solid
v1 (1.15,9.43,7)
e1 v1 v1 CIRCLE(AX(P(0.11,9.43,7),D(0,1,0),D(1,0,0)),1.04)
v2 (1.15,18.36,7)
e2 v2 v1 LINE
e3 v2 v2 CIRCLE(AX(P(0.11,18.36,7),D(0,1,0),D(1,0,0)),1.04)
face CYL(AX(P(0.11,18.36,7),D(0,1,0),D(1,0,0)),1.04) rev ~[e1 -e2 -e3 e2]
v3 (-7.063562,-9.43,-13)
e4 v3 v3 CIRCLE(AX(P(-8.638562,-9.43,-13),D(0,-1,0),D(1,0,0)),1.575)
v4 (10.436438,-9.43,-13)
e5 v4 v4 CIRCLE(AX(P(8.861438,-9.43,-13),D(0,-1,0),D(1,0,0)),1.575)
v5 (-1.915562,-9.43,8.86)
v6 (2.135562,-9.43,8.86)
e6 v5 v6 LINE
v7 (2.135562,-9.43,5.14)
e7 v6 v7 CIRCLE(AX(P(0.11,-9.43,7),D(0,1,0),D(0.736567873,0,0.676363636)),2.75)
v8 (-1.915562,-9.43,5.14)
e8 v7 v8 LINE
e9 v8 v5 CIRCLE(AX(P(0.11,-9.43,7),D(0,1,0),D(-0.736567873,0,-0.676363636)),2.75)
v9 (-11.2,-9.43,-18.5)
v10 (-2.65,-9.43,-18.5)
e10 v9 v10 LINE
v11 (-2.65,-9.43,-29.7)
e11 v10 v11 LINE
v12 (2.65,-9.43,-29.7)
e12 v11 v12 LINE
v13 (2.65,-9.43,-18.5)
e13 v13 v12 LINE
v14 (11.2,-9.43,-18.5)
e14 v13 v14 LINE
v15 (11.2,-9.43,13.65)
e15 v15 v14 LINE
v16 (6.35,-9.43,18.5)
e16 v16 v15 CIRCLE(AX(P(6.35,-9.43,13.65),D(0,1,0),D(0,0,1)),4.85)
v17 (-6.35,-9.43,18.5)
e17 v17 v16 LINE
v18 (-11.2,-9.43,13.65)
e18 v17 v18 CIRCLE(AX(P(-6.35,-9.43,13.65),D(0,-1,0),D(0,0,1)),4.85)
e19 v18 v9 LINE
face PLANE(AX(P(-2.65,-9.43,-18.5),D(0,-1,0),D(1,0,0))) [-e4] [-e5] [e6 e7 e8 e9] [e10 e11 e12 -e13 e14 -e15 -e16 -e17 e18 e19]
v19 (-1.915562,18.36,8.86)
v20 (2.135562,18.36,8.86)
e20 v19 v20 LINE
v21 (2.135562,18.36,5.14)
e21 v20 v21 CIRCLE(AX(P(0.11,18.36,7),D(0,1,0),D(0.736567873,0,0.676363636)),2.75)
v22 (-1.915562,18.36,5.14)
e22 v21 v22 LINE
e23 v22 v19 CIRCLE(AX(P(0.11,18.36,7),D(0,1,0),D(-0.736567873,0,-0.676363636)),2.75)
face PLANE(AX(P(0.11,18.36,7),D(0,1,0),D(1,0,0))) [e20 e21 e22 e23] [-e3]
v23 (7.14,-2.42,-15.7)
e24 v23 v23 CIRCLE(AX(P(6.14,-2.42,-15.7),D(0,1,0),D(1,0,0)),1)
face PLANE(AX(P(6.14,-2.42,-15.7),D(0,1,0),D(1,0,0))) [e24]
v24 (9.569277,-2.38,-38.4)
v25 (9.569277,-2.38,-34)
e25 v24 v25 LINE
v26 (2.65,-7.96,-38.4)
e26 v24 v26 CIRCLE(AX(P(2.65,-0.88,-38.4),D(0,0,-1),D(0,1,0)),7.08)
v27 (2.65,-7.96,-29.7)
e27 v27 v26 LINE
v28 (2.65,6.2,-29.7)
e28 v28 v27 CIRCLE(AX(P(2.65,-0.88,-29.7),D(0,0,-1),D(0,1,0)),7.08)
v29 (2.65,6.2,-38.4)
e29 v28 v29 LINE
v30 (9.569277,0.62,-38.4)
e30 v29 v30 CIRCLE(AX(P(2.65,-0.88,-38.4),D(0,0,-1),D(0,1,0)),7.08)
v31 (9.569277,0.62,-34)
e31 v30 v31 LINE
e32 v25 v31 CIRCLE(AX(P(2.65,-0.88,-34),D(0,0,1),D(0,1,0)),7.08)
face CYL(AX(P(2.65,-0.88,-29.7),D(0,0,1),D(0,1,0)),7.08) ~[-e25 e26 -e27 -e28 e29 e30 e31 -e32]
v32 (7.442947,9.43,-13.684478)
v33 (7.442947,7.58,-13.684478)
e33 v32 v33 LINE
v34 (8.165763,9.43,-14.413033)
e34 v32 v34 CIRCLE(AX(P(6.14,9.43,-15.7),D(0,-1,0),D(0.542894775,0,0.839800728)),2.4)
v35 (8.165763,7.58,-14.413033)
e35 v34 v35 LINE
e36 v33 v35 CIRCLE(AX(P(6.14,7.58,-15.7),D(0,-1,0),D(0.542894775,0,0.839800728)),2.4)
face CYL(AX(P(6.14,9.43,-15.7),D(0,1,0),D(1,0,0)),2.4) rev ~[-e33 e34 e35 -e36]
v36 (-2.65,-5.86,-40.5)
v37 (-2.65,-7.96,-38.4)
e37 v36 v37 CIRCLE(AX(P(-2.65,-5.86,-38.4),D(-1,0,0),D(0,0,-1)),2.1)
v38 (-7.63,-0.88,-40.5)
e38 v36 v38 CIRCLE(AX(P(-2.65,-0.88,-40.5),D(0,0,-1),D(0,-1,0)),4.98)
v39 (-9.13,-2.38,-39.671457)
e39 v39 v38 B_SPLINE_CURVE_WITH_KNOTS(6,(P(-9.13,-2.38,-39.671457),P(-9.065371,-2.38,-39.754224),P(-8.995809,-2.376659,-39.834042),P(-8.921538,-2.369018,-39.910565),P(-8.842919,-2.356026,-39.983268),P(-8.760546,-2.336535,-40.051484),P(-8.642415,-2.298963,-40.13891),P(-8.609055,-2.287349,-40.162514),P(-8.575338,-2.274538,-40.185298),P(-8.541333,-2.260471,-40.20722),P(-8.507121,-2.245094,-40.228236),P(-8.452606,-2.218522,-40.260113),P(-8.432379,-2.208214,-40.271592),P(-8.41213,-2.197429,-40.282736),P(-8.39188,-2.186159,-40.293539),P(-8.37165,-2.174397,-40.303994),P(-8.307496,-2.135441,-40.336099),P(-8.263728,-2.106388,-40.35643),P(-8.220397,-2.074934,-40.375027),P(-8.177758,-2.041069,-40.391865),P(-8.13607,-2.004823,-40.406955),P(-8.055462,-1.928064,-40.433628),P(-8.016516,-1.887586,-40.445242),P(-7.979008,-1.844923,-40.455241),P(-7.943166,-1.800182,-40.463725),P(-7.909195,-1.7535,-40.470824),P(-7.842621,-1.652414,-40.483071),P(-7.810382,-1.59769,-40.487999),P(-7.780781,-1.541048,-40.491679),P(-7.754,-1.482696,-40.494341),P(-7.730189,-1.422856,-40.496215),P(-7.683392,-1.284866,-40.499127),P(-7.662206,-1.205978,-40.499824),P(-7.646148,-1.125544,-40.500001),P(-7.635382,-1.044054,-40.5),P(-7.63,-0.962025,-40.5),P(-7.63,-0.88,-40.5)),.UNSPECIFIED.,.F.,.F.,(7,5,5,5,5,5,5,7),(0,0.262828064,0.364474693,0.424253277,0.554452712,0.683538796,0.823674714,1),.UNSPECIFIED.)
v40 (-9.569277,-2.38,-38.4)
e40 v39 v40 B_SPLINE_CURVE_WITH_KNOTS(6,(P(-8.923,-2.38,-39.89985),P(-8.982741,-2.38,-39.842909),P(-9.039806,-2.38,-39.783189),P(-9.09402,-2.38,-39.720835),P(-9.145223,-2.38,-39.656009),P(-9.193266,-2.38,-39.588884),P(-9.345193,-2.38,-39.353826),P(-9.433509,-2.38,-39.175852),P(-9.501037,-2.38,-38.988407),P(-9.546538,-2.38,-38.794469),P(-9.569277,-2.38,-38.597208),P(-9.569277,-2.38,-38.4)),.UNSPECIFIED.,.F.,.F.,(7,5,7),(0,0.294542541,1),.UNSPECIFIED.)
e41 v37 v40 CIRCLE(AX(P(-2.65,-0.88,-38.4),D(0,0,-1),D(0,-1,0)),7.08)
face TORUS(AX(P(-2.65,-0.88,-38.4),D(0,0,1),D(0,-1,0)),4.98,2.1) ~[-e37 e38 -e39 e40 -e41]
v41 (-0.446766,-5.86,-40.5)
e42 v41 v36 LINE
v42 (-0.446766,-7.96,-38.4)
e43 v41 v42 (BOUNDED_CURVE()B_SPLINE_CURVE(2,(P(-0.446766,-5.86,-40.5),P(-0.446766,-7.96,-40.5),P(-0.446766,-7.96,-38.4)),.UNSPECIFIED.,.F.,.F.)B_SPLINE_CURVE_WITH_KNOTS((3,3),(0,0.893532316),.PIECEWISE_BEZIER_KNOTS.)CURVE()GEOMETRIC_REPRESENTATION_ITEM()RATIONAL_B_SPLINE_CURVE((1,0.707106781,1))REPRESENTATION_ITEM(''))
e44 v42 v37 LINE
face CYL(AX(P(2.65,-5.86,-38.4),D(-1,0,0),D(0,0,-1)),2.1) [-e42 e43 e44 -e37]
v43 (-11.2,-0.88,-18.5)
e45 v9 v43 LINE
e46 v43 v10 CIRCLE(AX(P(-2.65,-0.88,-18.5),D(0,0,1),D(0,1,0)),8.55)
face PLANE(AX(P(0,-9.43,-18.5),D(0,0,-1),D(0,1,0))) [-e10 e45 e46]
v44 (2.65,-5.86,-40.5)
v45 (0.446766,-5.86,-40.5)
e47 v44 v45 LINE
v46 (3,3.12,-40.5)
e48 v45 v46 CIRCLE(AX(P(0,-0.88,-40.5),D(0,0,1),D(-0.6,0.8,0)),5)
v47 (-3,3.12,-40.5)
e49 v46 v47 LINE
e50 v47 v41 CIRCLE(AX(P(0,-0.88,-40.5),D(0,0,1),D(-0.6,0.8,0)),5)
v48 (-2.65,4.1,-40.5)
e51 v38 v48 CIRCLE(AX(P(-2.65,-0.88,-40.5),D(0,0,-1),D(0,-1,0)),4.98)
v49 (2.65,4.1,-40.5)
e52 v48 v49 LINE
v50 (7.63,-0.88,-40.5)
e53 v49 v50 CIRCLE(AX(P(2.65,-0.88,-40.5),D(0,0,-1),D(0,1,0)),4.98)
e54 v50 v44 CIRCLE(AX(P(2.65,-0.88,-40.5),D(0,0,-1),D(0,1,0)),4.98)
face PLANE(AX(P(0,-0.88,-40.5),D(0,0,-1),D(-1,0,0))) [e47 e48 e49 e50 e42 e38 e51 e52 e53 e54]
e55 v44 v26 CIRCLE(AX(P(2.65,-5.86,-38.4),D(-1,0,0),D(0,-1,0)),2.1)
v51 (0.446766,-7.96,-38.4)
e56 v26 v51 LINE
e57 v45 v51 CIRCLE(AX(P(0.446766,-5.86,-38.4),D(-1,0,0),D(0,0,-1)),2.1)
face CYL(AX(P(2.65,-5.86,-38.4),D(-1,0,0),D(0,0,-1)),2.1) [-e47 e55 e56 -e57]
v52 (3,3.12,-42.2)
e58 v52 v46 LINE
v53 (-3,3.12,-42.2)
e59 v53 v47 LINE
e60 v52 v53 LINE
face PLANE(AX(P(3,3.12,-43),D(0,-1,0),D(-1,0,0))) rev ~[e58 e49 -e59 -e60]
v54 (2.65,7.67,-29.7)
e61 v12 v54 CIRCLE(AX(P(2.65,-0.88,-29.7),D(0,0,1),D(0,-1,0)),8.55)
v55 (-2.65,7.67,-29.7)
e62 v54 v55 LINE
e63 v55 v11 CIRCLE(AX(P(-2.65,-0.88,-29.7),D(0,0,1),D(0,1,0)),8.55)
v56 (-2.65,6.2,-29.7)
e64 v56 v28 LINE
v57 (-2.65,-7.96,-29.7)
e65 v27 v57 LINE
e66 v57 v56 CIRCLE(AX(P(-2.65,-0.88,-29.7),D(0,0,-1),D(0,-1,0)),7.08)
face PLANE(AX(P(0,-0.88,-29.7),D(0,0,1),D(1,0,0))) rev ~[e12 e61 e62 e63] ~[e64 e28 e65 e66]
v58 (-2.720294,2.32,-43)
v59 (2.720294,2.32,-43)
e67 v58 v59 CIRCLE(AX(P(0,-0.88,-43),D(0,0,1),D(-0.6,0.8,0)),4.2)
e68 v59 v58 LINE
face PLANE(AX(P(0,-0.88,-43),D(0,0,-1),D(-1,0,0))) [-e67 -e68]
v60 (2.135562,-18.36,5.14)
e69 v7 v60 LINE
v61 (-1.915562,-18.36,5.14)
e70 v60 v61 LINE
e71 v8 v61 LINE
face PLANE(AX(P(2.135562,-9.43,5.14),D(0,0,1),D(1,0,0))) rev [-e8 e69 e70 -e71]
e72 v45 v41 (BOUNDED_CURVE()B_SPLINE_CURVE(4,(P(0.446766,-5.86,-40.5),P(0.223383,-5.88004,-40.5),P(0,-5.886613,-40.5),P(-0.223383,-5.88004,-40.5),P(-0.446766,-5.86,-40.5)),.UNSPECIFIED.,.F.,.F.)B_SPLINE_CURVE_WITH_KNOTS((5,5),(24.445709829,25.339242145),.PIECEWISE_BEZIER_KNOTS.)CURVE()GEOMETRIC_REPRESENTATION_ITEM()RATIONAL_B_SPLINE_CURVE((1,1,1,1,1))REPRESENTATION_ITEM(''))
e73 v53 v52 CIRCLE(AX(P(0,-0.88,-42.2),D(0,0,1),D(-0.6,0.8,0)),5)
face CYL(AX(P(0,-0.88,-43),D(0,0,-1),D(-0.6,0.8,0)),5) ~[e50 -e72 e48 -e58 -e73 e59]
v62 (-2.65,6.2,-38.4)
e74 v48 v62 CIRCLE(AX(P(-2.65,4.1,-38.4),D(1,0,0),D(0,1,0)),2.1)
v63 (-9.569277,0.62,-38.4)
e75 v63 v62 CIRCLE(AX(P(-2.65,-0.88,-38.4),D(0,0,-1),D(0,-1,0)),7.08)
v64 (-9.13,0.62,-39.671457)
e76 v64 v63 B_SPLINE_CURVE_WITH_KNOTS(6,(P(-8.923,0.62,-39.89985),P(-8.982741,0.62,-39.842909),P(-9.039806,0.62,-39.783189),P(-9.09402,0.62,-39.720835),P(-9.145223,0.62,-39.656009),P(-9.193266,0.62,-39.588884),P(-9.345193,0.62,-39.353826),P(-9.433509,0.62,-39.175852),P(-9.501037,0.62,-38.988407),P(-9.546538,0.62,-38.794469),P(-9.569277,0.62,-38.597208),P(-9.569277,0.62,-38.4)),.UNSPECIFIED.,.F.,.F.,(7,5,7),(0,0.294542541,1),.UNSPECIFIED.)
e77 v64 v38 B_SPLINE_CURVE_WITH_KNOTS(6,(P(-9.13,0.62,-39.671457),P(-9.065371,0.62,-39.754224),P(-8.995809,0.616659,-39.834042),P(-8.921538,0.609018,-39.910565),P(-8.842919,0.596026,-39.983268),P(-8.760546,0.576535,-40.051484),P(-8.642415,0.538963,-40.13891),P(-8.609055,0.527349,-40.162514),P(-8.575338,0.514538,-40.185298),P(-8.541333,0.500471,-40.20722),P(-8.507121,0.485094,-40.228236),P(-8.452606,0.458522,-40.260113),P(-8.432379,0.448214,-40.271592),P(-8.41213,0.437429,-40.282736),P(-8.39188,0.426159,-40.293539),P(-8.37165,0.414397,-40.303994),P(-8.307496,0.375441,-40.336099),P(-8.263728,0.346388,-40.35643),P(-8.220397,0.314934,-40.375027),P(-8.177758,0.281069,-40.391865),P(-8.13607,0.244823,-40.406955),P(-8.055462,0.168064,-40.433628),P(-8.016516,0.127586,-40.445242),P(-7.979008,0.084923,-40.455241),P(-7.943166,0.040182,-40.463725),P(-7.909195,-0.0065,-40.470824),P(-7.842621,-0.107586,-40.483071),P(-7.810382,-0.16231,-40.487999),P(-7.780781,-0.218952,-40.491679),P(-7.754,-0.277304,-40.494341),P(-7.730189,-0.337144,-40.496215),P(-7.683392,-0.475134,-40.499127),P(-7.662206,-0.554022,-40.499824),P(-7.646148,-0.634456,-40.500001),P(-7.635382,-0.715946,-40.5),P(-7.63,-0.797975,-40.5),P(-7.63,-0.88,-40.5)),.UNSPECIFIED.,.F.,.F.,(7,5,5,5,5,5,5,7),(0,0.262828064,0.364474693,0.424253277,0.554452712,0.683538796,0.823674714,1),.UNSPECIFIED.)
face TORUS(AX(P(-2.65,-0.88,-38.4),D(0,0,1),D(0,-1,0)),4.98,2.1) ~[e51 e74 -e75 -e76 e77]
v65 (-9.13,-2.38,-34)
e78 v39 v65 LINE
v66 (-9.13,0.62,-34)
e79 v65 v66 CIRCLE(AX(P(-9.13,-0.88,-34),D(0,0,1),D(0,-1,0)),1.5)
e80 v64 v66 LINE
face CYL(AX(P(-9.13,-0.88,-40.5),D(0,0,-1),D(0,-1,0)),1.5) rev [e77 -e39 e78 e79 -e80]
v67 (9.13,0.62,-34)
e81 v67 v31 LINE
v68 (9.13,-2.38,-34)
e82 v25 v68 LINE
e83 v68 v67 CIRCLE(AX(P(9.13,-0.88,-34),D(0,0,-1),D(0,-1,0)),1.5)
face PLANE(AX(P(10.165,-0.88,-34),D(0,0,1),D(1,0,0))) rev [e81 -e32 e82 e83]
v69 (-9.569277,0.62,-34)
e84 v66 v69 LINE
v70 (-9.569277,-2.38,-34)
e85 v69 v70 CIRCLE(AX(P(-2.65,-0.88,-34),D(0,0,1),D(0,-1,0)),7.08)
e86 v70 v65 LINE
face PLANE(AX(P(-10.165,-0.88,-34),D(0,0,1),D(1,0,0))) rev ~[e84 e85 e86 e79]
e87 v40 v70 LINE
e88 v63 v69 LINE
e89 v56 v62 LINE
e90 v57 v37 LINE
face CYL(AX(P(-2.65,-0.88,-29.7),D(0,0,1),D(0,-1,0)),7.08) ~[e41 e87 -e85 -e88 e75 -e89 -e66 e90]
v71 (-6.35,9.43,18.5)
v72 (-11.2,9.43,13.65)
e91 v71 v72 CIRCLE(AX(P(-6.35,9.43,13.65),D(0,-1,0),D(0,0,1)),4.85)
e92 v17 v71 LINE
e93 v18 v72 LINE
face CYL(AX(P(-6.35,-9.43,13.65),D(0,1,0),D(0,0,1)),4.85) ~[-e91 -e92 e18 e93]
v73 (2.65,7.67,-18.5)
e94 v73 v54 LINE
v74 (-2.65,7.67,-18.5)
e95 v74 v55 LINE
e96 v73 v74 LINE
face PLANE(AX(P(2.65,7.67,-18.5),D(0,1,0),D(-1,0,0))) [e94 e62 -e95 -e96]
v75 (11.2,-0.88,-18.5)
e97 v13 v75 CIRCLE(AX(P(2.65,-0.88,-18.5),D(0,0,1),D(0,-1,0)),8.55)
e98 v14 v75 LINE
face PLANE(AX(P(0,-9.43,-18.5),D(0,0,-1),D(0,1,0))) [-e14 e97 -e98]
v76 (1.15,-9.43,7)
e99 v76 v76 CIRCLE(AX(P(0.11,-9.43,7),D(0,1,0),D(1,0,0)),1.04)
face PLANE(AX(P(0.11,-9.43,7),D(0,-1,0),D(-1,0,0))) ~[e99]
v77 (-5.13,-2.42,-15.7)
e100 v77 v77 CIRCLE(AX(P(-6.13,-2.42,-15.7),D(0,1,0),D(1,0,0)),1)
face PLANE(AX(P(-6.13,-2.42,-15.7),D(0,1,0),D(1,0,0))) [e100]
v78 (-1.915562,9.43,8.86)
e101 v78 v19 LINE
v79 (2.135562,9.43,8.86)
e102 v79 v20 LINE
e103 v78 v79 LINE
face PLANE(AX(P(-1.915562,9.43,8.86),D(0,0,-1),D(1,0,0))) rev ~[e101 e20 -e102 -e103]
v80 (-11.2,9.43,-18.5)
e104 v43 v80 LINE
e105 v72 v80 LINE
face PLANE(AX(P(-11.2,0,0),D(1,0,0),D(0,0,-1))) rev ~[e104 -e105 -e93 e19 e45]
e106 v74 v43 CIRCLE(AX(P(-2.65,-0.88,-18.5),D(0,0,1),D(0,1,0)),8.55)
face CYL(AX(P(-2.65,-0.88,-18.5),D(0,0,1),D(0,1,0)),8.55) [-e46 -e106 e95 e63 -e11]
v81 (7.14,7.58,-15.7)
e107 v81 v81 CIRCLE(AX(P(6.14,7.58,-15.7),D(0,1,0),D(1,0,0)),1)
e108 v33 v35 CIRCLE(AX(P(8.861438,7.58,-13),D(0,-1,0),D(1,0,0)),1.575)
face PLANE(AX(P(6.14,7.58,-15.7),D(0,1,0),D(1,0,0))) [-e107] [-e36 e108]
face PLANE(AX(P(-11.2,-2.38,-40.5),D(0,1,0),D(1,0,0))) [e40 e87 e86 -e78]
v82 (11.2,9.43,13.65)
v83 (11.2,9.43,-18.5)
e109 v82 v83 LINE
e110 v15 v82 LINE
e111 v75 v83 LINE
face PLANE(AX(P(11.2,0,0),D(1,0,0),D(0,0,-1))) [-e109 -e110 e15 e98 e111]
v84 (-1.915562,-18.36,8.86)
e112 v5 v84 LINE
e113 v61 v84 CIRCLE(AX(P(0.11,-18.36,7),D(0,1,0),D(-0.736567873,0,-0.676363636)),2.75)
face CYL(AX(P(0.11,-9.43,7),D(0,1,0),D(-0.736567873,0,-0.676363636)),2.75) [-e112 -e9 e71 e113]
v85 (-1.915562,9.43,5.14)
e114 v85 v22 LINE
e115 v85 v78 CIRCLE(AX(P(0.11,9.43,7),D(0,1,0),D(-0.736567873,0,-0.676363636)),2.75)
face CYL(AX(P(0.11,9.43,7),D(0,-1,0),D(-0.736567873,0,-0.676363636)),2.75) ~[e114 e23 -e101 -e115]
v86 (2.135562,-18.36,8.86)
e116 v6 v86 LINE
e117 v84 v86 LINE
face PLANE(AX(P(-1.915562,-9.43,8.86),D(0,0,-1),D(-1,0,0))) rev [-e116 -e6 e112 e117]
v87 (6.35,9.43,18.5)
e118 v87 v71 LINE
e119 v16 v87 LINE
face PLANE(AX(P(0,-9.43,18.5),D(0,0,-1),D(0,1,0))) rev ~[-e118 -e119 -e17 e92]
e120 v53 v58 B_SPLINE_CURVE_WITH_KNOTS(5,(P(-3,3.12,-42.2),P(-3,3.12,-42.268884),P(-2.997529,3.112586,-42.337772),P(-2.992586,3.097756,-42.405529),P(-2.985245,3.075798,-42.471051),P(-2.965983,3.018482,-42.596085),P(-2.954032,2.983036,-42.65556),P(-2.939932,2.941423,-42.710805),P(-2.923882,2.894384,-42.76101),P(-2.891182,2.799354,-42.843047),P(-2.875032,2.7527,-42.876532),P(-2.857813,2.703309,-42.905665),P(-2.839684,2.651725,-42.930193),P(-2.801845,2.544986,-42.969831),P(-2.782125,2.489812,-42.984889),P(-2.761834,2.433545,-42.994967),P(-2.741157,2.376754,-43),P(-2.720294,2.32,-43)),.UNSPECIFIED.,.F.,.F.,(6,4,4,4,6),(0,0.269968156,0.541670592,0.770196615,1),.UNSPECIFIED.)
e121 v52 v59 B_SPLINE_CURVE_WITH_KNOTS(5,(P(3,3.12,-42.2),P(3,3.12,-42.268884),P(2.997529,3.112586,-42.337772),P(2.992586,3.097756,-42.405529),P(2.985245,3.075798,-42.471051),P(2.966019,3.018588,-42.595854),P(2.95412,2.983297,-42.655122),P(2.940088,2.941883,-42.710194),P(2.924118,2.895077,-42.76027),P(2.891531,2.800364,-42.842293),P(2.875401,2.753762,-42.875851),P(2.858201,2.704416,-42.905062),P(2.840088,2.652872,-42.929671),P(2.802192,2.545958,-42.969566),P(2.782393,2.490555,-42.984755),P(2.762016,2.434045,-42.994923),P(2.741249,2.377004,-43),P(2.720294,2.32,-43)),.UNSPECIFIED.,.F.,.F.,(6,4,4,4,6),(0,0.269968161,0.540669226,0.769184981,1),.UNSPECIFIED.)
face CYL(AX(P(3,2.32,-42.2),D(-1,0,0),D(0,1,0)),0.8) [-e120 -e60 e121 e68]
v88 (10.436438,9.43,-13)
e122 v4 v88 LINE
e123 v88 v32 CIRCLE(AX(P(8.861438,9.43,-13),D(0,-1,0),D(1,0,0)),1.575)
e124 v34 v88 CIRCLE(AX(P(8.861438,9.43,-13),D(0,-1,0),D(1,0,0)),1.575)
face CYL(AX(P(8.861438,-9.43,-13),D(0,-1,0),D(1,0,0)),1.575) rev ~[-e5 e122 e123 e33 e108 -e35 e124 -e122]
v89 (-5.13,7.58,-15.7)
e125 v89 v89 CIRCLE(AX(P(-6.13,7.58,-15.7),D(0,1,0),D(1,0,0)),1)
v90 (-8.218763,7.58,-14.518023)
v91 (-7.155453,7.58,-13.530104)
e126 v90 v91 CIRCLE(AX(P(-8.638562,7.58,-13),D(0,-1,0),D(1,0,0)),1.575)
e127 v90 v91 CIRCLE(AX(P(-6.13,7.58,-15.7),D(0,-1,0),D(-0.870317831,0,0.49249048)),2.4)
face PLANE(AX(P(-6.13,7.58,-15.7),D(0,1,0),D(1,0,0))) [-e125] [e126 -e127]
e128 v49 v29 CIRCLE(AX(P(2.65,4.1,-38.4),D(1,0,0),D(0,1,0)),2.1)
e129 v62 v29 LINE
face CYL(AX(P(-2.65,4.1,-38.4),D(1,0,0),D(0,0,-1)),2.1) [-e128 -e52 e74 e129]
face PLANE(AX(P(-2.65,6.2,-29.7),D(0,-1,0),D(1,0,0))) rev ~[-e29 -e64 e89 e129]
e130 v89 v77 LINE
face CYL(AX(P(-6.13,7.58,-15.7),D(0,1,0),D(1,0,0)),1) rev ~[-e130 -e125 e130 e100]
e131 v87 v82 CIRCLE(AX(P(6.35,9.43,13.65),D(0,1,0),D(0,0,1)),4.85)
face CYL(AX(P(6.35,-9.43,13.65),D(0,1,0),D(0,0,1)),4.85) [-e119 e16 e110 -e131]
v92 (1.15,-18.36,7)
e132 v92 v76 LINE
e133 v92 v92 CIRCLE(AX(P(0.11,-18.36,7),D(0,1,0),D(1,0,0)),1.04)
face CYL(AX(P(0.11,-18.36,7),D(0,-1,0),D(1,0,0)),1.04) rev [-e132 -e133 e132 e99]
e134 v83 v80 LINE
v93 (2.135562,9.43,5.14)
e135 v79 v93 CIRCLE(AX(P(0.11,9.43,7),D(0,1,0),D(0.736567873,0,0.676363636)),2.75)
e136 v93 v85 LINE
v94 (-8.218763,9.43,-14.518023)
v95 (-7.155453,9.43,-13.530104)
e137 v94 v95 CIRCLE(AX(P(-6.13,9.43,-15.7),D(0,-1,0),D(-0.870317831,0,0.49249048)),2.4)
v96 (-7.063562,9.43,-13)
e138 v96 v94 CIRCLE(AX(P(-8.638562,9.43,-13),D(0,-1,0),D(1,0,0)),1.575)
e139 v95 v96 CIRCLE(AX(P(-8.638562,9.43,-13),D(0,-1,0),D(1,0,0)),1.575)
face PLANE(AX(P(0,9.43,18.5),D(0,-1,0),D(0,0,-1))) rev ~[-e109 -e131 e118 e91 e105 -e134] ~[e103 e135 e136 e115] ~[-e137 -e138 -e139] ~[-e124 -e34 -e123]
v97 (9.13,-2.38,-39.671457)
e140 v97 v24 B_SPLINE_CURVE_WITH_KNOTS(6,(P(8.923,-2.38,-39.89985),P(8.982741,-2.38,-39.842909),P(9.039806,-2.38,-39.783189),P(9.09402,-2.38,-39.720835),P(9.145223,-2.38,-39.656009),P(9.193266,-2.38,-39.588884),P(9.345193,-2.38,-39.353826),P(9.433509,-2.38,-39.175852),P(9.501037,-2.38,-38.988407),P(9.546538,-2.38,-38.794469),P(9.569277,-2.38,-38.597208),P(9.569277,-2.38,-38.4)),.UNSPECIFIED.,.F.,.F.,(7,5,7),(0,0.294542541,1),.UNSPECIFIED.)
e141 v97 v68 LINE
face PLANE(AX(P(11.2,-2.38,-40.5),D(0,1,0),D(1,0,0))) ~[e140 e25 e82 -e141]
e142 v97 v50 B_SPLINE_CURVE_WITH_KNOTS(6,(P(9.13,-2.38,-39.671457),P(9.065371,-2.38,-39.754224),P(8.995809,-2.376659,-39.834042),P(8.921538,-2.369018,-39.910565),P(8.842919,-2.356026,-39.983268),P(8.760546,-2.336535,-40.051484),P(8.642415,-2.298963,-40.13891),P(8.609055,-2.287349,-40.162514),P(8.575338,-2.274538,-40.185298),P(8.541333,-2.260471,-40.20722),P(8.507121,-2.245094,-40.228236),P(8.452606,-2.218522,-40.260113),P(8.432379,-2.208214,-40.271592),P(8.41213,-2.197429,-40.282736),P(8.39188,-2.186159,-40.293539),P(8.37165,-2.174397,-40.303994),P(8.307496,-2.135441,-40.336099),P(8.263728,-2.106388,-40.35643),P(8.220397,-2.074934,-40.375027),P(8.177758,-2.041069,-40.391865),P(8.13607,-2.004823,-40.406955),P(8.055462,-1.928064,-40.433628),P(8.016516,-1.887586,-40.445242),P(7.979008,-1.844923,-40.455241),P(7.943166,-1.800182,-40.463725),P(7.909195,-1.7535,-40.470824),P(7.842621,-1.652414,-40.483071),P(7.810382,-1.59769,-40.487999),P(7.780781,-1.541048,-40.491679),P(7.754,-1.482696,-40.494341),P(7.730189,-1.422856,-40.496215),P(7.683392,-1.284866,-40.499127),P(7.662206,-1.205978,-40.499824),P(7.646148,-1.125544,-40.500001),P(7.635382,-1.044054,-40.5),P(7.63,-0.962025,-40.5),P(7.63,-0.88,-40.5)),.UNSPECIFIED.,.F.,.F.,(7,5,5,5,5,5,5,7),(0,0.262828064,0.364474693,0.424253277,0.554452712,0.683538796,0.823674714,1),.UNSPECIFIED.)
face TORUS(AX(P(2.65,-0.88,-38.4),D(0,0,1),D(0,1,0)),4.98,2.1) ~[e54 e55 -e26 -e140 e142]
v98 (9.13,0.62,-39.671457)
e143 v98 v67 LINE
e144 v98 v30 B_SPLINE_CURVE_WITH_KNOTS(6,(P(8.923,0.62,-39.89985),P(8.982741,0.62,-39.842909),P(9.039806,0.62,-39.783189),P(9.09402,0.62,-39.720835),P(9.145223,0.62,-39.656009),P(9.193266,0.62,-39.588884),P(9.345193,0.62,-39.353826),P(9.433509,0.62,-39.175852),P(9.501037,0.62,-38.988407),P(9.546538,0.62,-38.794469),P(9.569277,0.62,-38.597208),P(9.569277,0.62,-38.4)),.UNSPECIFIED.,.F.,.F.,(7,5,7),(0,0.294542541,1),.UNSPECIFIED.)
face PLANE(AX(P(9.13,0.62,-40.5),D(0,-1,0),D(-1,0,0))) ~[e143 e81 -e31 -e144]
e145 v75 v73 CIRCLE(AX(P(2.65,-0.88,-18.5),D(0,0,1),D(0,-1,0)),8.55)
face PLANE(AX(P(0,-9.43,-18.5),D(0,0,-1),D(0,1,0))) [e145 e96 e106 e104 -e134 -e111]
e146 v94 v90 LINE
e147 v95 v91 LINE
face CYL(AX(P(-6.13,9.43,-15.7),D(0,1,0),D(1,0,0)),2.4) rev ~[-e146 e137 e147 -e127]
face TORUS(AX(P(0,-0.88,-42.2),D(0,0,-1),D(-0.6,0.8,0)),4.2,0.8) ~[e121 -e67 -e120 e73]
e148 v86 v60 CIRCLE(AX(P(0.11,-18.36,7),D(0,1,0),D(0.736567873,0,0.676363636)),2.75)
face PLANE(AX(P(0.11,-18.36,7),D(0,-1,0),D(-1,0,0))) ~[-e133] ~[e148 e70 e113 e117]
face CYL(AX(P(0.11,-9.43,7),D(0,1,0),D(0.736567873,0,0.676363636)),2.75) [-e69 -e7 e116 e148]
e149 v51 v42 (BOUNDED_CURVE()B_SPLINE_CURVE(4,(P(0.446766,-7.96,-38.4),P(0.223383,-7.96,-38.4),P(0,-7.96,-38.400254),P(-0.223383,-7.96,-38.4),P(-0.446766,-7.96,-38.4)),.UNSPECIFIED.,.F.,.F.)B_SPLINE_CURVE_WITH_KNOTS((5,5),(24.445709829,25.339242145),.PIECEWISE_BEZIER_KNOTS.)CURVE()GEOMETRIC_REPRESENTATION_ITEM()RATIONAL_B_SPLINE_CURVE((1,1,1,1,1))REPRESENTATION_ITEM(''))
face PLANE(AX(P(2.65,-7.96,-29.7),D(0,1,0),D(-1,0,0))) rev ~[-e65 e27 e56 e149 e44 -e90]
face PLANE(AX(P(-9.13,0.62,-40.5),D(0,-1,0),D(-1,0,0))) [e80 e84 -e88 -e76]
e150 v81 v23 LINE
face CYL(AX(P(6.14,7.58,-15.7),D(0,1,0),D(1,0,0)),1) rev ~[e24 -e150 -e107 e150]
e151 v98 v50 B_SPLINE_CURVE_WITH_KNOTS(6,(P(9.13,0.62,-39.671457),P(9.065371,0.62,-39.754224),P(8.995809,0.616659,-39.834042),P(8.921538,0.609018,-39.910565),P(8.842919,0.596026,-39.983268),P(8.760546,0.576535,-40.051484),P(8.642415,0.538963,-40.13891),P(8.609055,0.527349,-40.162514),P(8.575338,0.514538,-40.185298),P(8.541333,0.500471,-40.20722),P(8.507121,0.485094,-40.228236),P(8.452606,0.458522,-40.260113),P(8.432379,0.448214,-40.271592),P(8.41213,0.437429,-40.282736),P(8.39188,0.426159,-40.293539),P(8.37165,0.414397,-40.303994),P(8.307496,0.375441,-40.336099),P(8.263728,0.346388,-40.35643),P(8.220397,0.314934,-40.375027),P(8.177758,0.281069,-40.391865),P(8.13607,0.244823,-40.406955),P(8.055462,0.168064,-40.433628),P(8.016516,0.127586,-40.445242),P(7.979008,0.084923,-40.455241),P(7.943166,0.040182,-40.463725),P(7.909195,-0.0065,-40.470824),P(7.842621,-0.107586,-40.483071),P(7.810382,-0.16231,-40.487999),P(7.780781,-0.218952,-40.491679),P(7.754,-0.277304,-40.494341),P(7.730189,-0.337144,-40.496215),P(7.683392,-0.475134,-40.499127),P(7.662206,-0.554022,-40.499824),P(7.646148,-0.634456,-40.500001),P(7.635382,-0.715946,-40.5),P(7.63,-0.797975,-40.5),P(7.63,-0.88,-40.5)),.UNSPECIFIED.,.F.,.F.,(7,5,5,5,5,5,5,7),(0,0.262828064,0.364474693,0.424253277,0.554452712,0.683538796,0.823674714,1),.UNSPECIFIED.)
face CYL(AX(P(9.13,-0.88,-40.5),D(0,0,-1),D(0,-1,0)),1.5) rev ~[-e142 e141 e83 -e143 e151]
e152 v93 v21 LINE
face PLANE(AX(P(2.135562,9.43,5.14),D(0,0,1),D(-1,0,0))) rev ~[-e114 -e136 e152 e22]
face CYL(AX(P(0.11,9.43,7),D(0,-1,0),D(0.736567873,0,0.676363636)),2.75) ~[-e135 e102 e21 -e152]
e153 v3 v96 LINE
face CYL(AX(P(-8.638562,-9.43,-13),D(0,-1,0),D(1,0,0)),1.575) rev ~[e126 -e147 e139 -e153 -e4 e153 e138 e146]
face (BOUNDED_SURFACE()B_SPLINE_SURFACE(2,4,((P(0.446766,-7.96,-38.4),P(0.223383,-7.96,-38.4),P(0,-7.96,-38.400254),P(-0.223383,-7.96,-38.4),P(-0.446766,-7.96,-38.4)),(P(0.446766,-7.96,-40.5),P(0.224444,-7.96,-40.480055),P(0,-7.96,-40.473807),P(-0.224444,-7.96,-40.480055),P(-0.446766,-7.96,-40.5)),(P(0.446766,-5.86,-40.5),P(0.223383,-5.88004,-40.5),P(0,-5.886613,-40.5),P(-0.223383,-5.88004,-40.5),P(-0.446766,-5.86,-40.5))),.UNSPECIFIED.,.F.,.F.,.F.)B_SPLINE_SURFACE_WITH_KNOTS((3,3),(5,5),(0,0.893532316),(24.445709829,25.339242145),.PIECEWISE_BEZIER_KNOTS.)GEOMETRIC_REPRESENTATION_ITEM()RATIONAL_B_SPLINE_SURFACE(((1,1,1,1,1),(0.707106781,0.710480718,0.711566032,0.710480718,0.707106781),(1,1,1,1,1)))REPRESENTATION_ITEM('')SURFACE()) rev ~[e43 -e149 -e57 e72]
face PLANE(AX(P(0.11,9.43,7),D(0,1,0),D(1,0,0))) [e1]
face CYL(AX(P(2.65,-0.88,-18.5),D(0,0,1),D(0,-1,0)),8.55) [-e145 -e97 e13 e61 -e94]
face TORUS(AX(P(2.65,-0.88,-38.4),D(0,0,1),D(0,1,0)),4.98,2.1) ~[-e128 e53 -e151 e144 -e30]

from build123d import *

# Parameters (mm, degrees)
SKETCH2_W           = 37
SKETCH2_H           = 18.86
BOSS_EXTRUDE1_DEPTH = 11.2
FILLET1_R           = 4.85
BOSS_EXTRUDE2_DEPTH = 11.2
BOSS_EXTRUDE3_DEPTH = 13.3
CUT_EXTRUDE1_DEPTH  = 2.5
FILLET2_R           = 0.8
FILLET3_R           = 2.1
CUT_EXTRUDE2_DEPTH  = 6.5
BOSS_EXTRUDE5_DEPTH = 8.93
SKETCH11_R          = 1.04
CUT_EXTRUDE4_DEPTH  = 8.93
CUT_EXTRUDE5_REACH  = 29.79
SKETCH12_R          = 1.575
SKETCH13_R          = 2.4
CUT_EXTRUDE6_DEPTH  = 1.85
SKETCH14_R          = 1
CUT_EXTRUDE7_DEPTH  = 10


with BuildPart() as part:
    # Sketch2 → Boss-Extrude1 (new body, symmetric)
    with BuildSketch(Plane(origin=(0, 0, 0), x_dir=(0, 0, -1), z_dir=(1, 0, 0))):
        Rectangle(SKETCH2_W, SKETCH2_H)
    extrude(amount=BOSS_EXTRUDE1_DEPTH, both=True)

    # Fillet1
    fillet1_edges = [part.edges().sort_by_distance(p)[0] for p in [
        (11.2, 0, 18.5),
        (-11.2, 0, 18.5),
    ]]
    fillet(fillet1_edges, radius=FILLET1_R)

    # Sketch3 → Boss-Extrude2 (add)
    with BuildSketch(Plane(origin=(0, 0, -18.5), x_dir=(-1, 0, 0), z_dir=(0, 0, -1))):
        with BuildLine():
            Line((-2.65, 7.67), (2.65, 7.67))
            ThreePointArc((2.65, 7.67), (11.2, -0.88), (2.65, -9.43))
            Line((2.65, -9.43), (-2.65, -9.43))
            ThreePointArc((-2.65, -9.43), (-11.2, -0.88), (-2.65, 7.67))
        make_face()
    extrude(amount=BOSS_EXTRUDE2_DEPTH)

    # Sketch4 → Boss-Extrude3 (add)
    with BuildSketch(Plane(origin=(0, 0, -29.7), x_dir=(-1, 0, 0), z_dir=(0, 0, -1))):
        with BuildLine():
            Line((-2.65, -7.96), (2.65, -7.96))
            ThreePointArc((2.65, -7.96), (9.73, -0.88), (2.65, 6.2))
            Line((2.65, 6.2), (-2.65, 6.2))
            ThreePointArc((-2.65, 6.2), (-9.73, -0.88), (-2.65, -7.96))
        make_face()
    extrude(amount=BOSS_EXTRUDE3_DEPTH)

    # Sketch5 → Cut-Extrude1 (cut)
    with BuildSketch(Plane(origin=(0, 0, -43), x_dir=(-1, 0, 0), z_dir=(0, 0, -1))):
        with BuildLine():
            Line((-2.65, -7.96), (2.65, -7.96))
            ThreePointArc((2.65, -7.96), (9.73, -0.88), (2.65, 6.2))
            Line((2.65, 6.2), (-2.65, 6.2))
            ThreePointArc((-2.65, 6.2), (-9.73, -0.88), (-2.65, -7.96))
        make_face()
        with BuildLine():
            Line((-3, 3.12), (3, 3.12))
            ThreePointArc((3, 3.12), (0, -5.88), (-3, 3.12))
        make_face(mode=Mode.SUBTRACT)
    extrude(amount=-CUT_EXTRUDE1_DEPTH, mode=Mode.SUBTRACT)

    # Fillet2
    fillet2_edges = [part.edges().sort_by_distance(p)[0] for p in [
        (0, -5.88, -43),
        (0, 3.12, -43),
    ]]
    fillet(fillet2_edges, radius=FILLET2_R)

    # Fillet3
    fillet3_edges = [part.edges().sort_by_distance(p)[0] for p in [
        (9.73, -0.88, -40.5),
        (0, 6.2, -40.5),
        (-9.73, -0.88, -40.5),
        (0, -7.96, -40.5),
    ]]
    fillet(fillet3_edges, radius=FILLET3_R)

    # Sketch6 → Cut-Extrude2 (cut)
    with BuildSketch(Plane(origin=(0, 0, -40.5), x_dir=(-1, 0, 0), z_dir=(0, 0, -1))):
        with BuildLine():
            Line((9.13, 0.62), (11.2, 0.62))
            ThreePointArc((11.2, 0.62), (12.7, -0.88), (11.2, -2.38))
            Line((11.2, -2.38), (9.13, -2.38))
            ThreePointArc((9.13, -2.38), (7.63, -0.88), (9.13, 0.62))
        make_face()
    cut_extrude2 = extrude(amount=-CUT_EXTRUDE2_DEPTH, mode=Mode.SUBTRACT)

    # Mirror1: Cut-Extrude2 across plane
    add(cut_extrude2.mirror(Plane(origin=(0, 0, 0), x_dir=(0, 0, 1), z_dir=(1, 0, 0))), mode=Mode.SUBTRACT)

    # Sketch10 → Boss-Extrude5 (add)
    with BuildSketch(Plane(origin=(0, 9.43, 0), x_dir=(1, 0, 0), z_dir=(0, 1, 0))):
        with BuildLine():
            Line((-1.915561651, -8.86), (2.135561651, -8.86))
            ThreePointArc((2.135561651, -8.86), (2.86, -7), (2.135561651, -5.14))
            Line((2.135561651, -5.14), (-1.915561651, -5.14))
            ThreePointArc((-1.915561651, -5.14), (-2.64, -7), (-1.915561651, -8.86))
        make_face()
    boss_extrude5 = extrude(amount=BOSS_EXTRUDE5_DEPTH)

    # Sketch11 → Cut-Extrude4 (cut)
    with BuildSketch(Plane(origin=(0, 18.36, 0), x_dir=(1, 0, 0), z_dir=(0, 1, 0))):
        with Locations((0.11, -7)):
            Circle(SKETCH11_R)
    cut_extrude4 = extrude(amount=-CUT_EXTRUDE4_DEPTH, mode=Mode.SUBTRACT)

    # Mirror3: Boss-Extrude5, Cut-Extrude4 across plane
    add(boss_extrude5.mirror(Plane.ZX))
    add(cut_extrude4.mirror(Plane.ZX), mode=Mode.SUBTRACT)

    # Sketch12 → Cut-Extrude5 (cut, up to next)
    with BuildSketch(Plane.XZ.offset(9.43), mode=Mode.PRIVATE) as cut_extrude5_sk1:
        with Locations((8.861437687, -13)):
            Circle(SKETCH12_R)
    cut_extrude5_tool1 = extrude(cut_extrude5_sk1.sketch, amount=-CUT_EXTRUDE5_REACH, mode=Mode.PRIVATE) & part.part
    add(cut_extrude5_tool1.solids().sort_by_distance((8.861438, -9.43, -13))[0], mode=Mode.SUBTRACT)
    # Sketch12 → Cut-Extrude5 (cut, up to next)
    with BuildSketch(Plane.XZ.offset(9.43), mode=Mode.PRIVATE) as cut_extrude5_sk2:
        with Locations((-8.638562313, -13)):
            Circle(SKETCH12_R)
    cut_extrude5_tool2 = extrude(cut_extrude5_sk2.sketch, amount=-CUT_EXTRUDE5_REACH, mode=Mode.PRIVATE) & part.part
    add(cut_extrude5_tool2.solids().sort_by_distance((-8.638562, -9.43, -13))[0], mode=Mode.SUBTRACT)

    # Sketch13 → Cut-Extrude6 (cut)
    with BuildSketch(Plane(origin=(0, 9.43, 0), x_dir=(1, 0, 0), z_dir=(0, 1, 0))):
        with Locations((6.14, 15.7)):
            Circle(SKETCH13_R)
        with Locations((-6.13, 15.7)):
            Circle(SKETCH13_R)
    extrude(amount=-CUT_EXTRUDE6_DEPTH, mode=Mode.SUBTRACT)

    # Sketch14 → Cut-Extrude7 (cut)
    with BuildSketch(Plane(origin=(0, 7.58, 0), x_dir=(1, 0, 0), z_dir=(0, 1, 0))):
        with Locations((-6.13, 15.7)):
            Circle(SKETCH14_R)
        with Locations((6.14, 15.7)):
            Circle(SKETCH14_R)
    extrude(amount=-CUT_EXTRUDE7_DEPTH, mode=Mode.SUBTRACT)


solid = part.part
